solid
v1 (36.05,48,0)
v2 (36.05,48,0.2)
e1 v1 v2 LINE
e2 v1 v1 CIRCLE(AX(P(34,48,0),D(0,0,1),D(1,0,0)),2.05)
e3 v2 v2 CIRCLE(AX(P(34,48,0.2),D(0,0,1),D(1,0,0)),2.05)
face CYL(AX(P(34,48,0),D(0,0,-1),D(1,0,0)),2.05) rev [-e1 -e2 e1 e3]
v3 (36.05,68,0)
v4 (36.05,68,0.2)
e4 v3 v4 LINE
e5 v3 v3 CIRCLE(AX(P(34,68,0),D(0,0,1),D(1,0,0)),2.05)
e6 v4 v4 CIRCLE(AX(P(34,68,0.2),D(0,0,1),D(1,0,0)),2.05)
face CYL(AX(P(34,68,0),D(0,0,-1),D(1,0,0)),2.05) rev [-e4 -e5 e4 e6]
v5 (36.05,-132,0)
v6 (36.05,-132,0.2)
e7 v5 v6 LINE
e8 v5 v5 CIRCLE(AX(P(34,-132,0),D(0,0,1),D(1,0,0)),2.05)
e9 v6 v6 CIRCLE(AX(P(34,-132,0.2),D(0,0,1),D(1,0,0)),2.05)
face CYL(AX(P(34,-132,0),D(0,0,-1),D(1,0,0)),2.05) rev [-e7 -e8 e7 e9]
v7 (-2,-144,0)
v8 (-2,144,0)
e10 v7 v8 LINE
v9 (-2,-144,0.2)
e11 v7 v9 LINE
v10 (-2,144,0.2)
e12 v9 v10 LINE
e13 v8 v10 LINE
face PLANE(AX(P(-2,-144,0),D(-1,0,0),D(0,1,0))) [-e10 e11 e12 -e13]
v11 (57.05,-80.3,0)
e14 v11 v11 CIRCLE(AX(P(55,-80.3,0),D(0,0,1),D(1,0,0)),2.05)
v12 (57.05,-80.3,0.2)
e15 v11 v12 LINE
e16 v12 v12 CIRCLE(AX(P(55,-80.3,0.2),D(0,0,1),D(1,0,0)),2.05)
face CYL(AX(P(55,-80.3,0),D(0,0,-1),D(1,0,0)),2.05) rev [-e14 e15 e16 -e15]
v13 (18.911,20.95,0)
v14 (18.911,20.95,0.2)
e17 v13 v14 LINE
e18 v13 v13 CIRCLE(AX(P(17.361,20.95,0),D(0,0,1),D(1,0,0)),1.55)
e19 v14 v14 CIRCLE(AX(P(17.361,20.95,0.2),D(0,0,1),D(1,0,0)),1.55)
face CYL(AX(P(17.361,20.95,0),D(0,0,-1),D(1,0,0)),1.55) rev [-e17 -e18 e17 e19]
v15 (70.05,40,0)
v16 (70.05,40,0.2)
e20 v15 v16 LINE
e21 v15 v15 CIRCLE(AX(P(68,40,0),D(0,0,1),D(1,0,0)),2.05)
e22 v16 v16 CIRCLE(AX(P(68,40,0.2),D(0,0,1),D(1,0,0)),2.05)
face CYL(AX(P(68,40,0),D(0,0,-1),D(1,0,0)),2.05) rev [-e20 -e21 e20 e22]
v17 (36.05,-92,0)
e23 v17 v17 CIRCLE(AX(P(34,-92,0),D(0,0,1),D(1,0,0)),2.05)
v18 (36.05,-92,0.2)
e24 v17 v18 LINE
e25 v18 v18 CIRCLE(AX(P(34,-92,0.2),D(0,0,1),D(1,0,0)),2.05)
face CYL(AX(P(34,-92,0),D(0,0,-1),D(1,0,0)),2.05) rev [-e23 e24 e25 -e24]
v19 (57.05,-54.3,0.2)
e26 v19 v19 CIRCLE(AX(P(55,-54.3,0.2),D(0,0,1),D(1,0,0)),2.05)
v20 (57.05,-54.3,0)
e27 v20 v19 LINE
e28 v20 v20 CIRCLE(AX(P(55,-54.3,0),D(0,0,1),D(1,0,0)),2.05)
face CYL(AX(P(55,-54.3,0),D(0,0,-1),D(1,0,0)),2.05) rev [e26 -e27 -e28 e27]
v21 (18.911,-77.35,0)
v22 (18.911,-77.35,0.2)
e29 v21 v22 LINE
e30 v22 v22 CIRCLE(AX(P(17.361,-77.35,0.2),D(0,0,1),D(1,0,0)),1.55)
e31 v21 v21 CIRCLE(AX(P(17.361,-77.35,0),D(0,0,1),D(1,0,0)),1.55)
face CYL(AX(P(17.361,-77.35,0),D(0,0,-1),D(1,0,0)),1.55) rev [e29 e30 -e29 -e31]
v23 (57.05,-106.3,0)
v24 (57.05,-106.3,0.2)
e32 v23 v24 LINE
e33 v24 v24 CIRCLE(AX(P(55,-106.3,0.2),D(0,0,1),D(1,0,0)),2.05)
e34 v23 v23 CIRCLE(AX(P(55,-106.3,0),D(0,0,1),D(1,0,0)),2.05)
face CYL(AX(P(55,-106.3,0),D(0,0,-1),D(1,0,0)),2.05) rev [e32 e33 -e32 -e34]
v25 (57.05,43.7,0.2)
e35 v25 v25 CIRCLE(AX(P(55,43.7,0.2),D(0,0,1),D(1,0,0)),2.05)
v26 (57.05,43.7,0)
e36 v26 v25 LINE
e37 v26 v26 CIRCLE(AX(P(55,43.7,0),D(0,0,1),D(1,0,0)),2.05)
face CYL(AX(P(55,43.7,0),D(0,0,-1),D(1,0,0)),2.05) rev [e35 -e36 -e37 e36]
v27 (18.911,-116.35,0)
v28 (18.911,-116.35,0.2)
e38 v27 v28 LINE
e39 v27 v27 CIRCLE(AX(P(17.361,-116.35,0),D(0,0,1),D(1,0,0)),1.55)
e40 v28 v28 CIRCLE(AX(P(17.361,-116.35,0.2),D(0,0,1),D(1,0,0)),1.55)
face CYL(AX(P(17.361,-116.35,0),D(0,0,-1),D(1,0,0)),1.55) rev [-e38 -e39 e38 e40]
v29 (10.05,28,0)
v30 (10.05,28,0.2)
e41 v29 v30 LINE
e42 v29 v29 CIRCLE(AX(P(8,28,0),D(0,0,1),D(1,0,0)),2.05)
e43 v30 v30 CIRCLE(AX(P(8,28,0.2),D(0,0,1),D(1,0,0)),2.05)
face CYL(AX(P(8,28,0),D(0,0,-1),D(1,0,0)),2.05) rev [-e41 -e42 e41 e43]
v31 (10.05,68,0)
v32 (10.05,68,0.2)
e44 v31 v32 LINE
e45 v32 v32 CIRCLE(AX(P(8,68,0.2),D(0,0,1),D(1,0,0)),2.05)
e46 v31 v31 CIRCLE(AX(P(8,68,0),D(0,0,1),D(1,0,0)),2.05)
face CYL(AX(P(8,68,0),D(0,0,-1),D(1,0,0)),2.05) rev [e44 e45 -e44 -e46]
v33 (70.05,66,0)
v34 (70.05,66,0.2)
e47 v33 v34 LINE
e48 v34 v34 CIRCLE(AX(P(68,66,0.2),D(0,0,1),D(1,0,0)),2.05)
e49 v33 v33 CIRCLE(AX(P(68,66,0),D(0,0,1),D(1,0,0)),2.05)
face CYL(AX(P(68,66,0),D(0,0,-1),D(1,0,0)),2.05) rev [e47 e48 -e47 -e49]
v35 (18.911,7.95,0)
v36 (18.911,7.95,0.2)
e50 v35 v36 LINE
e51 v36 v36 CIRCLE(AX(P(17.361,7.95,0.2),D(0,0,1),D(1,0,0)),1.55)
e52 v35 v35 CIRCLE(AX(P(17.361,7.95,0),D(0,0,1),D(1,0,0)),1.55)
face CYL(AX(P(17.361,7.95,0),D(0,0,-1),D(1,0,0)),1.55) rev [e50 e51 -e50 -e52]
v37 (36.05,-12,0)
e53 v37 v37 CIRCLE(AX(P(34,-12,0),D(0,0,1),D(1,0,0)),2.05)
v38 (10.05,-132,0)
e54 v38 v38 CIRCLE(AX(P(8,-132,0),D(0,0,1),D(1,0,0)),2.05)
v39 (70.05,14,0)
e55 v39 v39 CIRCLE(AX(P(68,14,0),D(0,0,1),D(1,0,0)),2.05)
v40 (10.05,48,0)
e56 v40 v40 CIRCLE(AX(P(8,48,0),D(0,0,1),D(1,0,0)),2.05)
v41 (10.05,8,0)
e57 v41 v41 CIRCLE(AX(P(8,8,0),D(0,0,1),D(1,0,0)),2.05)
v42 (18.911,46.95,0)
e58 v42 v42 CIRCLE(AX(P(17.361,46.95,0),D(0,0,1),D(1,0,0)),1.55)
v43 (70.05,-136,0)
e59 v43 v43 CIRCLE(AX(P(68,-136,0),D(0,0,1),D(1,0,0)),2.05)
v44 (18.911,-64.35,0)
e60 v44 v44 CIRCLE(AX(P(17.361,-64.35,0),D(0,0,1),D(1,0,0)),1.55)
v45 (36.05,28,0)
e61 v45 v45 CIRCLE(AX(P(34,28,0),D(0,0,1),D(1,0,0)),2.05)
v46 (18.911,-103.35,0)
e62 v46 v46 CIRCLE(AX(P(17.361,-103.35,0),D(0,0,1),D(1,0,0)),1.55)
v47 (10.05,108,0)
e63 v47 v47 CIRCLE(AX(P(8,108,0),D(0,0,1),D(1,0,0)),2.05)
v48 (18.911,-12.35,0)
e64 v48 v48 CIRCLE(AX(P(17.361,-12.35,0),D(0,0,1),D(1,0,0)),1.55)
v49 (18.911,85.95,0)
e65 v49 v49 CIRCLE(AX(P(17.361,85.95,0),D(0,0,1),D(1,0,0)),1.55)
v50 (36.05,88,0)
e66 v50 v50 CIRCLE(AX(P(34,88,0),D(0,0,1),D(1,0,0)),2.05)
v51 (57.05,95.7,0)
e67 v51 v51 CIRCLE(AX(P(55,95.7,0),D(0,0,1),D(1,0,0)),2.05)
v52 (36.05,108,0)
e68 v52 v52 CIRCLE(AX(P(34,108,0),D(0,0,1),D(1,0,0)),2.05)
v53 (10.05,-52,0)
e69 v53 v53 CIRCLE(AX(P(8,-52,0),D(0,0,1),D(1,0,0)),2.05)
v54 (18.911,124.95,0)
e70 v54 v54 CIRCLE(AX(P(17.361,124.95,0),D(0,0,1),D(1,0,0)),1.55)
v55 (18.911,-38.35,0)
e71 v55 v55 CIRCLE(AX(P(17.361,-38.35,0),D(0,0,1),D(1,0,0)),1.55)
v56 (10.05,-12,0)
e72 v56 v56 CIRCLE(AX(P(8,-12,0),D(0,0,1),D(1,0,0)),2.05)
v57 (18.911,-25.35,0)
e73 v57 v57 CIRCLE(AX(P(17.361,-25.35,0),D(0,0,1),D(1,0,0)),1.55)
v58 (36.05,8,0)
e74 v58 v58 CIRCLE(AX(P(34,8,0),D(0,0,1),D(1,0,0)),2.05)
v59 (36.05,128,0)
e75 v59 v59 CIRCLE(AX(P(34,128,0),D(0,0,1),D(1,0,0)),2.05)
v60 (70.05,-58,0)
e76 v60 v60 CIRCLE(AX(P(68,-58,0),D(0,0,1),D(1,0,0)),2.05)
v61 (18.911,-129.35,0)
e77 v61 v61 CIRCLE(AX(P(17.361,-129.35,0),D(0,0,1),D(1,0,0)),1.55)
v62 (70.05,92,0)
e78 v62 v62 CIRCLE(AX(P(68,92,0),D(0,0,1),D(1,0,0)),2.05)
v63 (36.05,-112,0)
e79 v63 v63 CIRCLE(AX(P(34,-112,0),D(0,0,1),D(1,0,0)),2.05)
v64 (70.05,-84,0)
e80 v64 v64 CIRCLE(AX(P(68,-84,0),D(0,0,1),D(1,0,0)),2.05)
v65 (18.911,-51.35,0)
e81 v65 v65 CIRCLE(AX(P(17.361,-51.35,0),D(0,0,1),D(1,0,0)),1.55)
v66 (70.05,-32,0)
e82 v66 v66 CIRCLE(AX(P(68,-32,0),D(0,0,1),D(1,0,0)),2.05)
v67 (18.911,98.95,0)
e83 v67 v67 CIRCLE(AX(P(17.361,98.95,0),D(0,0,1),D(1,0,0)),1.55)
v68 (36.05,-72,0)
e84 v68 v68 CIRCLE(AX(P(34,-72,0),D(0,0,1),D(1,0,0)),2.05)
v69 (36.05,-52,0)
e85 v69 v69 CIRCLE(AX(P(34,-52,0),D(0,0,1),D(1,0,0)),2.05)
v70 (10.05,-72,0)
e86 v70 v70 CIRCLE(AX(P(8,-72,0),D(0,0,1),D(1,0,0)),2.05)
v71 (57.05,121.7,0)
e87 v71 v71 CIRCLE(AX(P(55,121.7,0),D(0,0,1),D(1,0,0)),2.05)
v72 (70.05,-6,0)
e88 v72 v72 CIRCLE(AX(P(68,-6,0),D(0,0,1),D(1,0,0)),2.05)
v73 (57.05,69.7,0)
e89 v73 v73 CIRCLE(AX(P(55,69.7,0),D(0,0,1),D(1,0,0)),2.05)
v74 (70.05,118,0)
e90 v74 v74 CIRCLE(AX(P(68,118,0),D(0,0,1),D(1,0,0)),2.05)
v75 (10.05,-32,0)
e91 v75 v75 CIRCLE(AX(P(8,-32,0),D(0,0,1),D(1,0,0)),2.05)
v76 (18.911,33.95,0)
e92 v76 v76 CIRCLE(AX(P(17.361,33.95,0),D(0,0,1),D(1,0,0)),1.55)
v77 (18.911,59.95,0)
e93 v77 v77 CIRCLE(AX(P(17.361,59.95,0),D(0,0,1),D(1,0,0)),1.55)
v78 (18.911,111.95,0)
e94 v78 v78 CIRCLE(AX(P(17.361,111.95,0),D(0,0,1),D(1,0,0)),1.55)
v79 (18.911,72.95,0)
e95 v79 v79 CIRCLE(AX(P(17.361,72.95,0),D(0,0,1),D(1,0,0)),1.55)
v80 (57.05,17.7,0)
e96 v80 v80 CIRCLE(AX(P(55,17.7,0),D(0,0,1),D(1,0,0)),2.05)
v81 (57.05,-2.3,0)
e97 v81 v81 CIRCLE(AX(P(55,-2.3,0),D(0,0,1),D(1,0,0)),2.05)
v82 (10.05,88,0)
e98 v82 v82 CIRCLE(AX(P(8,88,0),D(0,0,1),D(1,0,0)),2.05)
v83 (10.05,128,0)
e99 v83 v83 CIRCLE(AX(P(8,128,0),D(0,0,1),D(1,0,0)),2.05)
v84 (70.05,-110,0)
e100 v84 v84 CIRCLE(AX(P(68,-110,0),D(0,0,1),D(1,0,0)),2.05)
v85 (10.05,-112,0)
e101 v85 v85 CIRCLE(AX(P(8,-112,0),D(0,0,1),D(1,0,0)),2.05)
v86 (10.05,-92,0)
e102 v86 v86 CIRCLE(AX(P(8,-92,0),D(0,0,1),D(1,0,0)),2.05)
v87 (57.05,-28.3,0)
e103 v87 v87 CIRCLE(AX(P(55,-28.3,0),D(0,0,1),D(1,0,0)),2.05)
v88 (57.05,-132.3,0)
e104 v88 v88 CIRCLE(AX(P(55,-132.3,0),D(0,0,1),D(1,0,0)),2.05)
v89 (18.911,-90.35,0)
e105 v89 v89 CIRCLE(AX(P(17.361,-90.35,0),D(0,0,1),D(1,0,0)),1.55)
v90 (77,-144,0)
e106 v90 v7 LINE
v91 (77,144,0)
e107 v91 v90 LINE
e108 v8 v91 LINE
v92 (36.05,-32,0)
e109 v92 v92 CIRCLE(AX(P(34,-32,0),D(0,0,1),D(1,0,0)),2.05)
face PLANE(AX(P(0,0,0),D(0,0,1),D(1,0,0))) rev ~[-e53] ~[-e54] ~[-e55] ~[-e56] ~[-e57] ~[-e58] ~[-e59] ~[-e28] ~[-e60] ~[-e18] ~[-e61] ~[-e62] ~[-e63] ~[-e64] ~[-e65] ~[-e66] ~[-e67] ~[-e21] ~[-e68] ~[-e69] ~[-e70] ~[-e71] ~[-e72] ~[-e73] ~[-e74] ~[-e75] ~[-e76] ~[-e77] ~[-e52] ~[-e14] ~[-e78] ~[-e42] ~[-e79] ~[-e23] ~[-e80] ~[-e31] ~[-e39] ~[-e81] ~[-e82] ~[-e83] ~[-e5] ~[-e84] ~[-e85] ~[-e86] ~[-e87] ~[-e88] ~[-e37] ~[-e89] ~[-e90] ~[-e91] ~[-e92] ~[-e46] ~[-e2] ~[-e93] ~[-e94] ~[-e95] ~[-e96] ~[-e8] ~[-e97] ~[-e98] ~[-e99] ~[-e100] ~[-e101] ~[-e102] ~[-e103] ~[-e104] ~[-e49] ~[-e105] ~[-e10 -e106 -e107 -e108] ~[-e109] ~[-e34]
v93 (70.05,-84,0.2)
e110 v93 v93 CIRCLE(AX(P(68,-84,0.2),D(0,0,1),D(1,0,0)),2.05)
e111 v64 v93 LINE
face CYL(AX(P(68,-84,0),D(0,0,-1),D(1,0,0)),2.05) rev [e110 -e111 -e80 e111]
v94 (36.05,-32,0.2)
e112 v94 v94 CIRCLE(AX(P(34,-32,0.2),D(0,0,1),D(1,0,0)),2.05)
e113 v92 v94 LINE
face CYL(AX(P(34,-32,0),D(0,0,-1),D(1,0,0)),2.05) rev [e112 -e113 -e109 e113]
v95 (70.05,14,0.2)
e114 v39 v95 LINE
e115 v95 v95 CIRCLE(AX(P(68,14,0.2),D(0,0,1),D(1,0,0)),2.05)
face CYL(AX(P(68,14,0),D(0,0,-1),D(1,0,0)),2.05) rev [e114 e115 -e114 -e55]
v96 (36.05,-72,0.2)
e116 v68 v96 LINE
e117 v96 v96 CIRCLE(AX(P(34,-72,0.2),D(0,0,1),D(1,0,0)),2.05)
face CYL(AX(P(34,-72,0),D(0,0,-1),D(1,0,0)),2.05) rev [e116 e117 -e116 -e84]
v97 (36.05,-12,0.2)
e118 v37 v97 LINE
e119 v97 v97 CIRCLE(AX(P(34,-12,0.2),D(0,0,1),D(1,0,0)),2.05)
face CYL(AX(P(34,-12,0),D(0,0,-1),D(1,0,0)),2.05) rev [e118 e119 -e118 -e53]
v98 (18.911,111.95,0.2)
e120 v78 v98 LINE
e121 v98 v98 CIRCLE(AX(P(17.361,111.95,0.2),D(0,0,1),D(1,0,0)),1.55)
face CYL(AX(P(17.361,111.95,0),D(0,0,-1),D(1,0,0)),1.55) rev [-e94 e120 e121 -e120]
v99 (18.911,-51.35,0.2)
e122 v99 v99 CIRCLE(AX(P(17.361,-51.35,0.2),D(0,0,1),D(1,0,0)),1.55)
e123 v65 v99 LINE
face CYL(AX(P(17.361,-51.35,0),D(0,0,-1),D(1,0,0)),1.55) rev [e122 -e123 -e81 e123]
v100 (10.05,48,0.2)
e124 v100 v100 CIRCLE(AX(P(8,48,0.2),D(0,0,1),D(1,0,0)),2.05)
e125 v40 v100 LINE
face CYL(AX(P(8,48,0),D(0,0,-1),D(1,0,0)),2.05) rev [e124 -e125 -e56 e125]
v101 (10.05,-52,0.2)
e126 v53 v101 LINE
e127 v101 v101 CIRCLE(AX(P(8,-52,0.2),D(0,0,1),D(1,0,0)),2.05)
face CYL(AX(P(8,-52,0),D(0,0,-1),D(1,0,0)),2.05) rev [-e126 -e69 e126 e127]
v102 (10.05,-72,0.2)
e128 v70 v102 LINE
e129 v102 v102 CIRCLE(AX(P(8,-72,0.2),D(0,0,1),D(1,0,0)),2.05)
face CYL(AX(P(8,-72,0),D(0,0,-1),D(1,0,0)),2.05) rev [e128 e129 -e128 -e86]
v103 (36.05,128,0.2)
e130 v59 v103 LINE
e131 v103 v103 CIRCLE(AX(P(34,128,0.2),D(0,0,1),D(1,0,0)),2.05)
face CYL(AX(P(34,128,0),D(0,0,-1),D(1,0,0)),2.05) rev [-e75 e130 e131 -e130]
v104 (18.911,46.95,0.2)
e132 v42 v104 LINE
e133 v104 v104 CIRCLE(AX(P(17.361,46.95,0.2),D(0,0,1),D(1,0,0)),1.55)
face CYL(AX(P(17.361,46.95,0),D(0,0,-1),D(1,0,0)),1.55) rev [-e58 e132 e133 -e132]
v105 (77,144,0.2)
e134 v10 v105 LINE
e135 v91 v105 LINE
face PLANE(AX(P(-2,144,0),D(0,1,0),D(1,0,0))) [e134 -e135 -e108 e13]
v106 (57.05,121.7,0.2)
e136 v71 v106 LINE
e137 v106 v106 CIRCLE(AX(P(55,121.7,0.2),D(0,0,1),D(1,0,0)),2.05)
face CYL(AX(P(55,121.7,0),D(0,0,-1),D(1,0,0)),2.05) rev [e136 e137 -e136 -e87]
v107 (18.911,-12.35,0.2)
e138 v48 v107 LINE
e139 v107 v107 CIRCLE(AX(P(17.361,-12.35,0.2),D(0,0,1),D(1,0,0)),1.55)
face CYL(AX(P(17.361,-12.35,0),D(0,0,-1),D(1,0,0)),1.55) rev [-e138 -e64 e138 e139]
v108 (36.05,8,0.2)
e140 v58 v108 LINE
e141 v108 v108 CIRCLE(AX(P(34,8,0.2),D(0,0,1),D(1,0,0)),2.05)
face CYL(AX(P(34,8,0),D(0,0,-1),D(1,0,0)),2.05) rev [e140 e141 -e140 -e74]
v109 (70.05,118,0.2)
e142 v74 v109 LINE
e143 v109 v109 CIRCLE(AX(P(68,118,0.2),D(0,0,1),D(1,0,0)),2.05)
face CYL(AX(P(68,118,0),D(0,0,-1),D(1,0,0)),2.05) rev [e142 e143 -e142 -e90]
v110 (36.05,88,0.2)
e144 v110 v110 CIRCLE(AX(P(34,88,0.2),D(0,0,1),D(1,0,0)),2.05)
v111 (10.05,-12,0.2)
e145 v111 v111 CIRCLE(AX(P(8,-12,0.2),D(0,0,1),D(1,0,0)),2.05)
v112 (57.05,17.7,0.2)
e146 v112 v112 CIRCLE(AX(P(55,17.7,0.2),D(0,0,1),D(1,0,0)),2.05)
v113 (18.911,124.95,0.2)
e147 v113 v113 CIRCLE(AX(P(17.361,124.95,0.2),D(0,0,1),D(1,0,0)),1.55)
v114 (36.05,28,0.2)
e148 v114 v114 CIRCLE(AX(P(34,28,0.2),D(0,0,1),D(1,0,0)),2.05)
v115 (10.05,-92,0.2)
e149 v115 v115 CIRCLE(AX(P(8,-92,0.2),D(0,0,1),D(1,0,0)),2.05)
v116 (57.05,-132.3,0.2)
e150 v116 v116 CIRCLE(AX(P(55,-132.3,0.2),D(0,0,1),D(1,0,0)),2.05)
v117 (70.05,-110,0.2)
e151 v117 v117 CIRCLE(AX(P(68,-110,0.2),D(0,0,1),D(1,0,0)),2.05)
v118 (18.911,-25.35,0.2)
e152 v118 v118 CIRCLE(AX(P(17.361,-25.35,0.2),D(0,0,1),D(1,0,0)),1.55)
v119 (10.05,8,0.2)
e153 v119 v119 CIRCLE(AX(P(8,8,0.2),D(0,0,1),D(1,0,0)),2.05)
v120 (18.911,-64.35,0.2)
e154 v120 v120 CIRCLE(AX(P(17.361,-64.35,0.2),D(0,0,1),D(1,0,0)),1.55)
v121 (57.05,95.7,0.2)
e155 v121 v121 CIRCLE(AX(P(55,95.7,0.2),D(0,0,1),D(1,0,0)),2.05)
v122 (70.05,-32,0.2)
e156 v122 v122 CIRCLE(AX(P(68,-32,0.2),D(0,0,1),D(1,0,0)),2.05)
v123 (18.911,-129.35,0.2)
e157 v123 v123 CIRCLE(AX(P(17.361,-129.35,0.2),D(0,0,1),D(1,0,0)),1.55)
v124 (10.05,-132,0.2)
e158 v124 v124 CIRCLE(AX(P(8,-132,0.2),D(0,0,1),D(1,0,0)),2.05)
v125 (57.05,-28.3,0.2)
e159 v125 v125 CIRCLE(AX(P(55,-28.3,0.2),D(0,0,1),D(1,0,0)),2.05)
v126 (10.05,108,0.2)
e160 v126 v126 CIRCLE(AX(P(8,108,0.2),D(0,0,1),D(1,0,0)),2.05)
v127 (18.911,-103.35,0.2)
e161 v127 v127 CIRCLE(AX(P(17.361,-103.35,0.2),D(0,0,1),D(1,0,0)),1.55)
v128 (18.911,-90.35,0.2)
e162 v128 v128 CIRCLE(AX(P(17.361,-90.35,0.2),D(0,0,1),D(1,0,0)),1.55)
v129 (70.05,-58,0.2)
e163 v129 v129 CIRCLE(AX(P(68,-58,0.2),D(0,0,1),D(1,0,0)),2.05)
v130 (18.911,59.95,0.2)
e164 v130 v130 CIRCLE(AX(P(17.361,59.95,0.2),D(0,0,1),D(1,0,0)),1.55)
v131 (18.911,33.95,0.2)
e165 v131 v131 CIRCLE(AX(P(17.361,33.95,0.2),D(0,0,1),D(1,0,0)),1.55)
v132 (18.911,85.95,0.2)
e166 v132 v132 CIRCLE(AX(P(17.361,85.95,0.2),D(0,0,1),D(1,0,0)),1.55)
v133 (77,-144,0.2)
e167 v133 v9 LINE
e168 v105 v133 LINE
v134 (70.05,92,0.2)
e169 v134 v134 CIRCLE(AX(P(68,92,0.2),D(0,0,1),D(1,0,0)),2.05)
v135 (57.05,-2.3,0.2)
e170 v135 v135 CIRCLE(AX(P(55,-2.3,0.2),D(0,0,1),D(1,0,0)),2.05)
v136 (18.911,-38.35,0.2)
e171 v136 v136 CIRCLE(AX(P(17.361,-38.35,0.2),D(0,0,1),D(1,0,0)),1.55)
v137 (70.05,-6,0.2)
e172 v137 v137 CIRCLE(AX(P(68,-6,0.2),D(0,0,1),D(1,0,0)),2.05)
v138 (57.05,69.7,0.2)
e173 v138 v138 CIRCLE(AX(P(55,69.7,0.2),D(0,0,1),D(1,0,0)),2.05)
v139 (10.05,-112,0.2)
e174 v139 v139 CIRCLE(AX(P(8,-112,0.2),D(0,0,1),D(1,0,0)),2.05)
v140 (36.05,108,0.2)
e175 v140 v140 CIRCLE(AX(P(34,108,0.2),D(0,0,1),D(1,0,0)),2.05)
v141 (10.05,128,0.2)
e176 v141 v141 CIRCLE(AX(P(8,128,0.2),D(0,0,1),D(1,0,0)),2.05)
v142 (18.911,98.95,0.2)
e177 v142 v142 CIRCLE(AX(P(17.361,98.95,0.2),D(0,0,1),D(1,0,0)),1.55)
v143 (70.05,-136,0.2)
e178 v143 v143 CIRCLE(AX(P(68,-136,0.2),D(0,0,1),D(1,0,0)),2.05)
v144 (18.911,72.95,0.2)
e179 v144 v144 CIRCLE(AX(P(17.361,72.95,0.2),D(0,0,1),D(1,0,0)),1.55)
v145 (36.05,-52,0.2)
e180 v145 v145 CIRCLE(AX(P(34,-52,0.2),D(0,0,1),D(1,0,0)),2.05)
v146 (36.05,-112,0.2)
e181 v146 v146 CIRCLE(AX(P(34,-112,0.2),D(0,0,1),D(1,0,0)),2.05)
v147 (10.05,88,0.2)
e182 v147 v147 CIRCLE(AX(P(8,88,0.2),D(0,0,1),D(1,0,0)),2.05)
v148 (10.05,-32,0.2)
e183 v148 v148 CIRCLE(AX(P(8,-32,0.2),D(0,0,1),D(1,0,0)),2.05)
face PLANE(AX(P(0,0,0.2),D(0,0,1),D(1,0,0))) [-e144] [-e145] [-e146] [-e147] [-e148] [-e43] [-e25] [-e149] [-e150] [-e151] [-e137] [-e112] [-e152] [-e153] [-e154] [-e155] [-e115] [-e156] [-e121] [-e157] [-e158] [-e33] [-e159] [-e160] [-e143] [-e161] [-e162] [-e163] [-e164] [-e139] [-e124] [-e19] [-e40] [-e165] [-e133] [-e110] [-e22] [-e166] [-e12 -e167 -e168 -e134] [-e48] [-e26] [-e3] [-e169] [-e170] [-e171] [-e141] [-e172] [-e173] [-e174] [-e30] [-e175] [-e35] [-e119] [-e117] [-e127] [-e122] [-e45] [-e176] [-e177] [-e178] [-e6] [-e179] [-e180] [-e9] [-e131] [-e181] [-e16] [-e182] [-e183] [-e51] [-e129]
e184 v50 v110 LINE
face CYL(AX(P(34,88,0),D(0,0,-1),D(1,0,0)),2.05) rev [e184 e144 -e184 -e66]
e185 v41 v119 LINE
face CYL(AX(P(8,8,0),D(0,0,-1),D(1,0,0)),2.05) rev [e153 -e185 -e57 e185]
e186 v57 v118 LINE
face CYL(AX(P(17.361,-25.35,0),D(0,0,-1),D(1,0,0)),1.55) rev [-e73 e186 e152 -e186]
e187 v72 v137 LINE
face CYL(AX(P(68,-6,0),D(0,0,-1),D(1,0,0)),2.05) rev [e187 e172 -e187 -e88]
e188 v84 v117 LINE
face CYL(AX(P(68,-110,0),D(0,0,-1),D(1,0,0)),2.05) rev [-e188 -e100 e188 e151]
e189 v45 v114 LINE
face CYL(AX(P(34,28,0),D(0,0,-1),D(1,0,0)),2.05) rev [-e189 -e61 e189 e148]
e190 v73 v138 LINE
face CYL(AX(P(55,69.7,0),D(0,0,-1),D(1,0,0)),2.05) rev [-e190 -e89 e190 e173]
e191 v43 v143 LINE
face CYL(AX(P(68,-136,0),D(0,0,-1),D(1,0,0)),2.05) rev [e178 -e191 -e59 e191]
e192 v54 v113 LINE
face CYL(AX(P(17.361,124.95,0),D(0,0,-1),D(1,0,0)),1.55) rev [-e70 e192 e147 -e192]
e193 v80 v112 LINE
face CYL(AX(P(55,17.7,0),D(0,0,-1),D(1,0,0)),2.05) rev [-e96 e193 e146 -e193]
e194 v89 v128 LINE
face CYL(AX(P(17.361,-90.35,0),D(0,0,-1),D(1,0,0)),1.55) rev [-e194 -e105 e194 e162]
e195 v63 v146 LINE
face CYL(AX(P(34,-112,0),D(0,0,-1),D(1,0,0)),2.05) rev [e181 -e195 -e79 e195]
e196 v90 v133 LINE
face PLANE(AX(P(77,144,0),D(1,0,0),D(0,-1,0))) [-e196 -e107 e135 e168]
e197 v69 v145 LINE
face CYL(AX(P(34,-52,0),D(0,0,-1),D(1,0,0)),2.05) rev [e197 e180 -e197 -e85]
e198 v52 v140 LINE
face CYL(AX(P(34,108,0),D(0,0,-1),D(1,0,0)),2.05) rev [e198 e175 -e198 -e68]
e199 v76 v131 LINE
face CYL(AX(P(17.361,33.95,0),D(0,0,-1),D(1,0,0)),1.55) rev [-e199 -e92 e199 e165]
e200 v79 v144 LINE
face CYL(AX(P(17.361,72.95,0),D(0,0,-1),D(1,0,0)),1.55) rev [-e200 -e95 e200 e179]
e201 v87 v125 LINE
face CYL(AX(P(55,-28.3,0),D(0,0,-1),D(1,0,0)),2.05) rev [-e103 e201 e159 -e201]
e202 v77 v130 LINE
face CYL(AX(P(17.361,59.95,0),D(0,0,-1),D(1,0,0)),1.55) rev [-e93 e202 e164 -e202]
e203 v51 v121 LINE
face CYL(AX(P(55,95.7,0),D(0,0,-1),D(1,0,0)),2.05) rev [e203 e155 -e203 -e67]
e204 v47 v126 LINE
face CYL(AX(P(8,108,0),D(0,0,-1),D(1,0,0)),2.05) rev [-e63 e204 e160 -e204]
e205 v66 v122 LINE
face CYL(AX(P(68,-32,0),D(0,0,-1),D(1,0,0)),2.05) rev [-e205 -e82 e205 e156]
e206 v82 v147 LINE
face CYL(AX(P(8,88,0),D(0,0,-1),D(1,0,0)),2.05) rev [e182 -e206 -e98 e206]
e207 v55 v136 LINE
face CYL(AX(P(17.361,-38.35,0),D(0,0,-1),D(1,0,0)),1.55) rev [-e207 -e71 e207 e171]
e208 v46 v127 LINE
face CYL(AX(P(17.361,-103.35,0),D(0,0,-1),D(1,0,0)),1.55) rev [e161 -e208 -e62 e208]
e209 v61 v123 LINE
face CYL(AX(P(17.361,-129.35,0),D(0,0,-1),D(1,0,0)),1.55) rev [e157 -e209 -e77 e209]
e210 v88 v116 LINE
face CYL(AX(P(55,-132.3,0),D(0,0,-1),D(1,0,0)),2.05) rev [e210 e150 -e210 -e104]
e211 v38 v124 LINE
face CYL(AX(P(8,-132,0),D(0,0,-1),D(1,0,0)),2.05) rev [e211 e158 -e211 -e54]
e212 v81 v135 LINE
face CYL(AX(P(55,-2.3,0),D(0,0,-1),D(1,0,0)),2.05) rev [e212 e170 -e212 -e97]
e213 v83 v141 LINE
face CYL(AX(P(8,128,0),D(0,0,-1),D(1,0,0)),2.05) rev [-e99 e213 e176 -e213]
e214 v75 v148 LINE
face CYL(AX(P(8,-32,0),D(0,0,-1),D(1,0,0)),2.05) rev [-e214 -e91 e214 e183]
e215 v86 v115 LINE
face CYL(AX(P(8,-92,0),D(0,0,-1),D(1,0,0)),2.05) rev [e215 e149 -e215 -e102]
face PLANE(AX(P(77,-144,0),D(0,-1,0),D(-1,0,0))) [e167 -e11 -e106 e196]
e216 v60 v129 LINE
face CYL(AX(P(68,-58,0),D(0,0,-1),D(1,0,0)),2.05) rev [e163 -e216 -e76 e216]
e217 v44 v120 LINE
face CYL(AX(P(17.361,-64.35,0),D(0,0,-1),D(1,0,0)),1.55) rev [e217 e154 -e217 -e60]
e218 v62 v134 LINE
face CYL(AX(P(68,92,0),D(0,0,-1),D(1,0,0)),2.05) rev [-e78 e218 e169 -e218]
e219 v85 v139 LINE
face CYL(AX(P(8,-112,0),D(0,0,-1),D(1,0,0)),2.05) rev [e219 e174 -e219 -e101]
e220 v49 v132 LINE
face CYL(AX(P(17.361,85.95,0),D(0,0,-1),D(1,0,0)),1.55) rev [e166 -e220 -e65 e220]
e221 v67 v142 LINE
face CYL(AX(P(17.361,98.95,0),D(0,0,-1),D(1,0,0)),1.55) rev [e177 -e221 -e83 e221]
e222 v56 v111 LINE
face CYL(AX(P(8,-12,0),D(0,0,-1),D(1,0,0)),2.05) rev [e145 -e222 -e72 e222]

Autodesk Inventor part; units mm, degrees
ref_plane "YZ Plane" through (0, 0, 0) normal (1, 0, 0) x (0, 1, 0)
ref_plane "XZ Plane" through (0, 0, 0) normal (0, 1, 0) x (-1, 0, 0)
ref_plane "XY Plane" through (0, 0, 0) normal (0, 0, 1) x (1, 0, 0)
sketch "Sketch1" plane through (0, 0, 0) normal (0, 0, 1) x (1, 0, 0)
  line L0 (0, 201.6) -> (0, -201.6) construction
  circle A0 centre (17.361, 111.95) radius 2 construction
  circle A1 centre (17.361, 85.95) radius 2 construction
  circle A2 centre (17.361, 59.95) radius 2 construction
  circle A3 centre (17.361, 33.95) radius 2 construction
  circle A4 centre (17.361, 7.95) radius 2 construction
  circle A5 centre (17.361, -25.35) radius 2 construction
  circle A6 centre (17.361, -51.35) radius 2 construction
  circle A7 centre (17.361, -77.35) radius 2 construction
  circle A8 centre (17.361, -103.35) radius 2 construction
  circle A9 centre (17.361, -129.35) radius 2 construction
  circle A10 centre (17.361, -116.35) radius 2 construction
  circle A11 centre (17.361, -90.35) radius 2 construction
  circle A12 centre (17.361, -64.35) radius 2 construction
  circle A13 centre (17.361, -38.35) radius 2 construction
  circle A14 centre (17.361, -12.35) radius 2 construction
  circle A15 centre (17.361, 20.95) radius 2 construction
  circle A16 centre (17.361, 46.95) radius 2 construction
  circle A17 centre (17.361, 72.95) radius 2 construction
  circle A18 centre (17.361, 98.95) radius 2 construction
  circle A19 centre (17.361, 124.95) radius 2 construction
  circle A20 centre (8, -12) radius 2.65 construction
  circle A21 centre (8, -52) radius 2.65 construction
  circle A22 centre (8, -92) radius 2.65 construction
  circle A23 centre (8, -132) radius 2.65 construction
  circle A24 centre (34, -112) radius 2.65 construction
  circle A25 centre (34, -72) radius 2.65 construction
  circle A26 centre (34, -32) radius 2.65 construction
  circle A27 centre (34, 8) radius 2.65 construction
  circle A28 centre (34, 48) radius 2.65 construction
  circle A29 centre (8, 28) radius 2.65 construction
  circle A30 centre (8, 68) radius 2.65 construction
  circle A31 centre (8, 88) radius 2.65 construction
  circle A32 centre (8, 108) radius 2.65 construction
  circle A33 centre (8, 128) radius 2.65 construction
  circle A34 centre (68, 118) radius 2.65 construction
  circle A35 centre (55, 95.7) radius 2.65 construction
  circle A36 centre (55, 69.7) radius 2.65 construction
  circle A37 centre (55, 43.7) radius 2.65 construction
  circle A38 centre (55, 17.7) radius 2.65 construction
  circle A39 centre (55, -2.3) radius 2.65 construction
  circle A40 centre (55, -28.3) radius 2.65 construction
  circle A41 centre (55, -54.3) radius 2.65 construction
  circle A42 centre (55, -80.3) radius 2.65 construction
  circle A43 centre (55, -106.3) radius 2.65 construction
  circle A44 centre (55, -132.3) radius 2.65 construction
  circle A45 centre (68, -136) radius 2.65 construction
  circle A46 centre (68, -110) radius 2.65 construction
  circle A47 centre (68, -84) radius 2.65 construction
  circle A48 centre (68, -58) radius 2.65 construction
  circle A49 centre (68, -32) radius 2.65 construction
  circle A50 centre (68, -6) radius 2.65 construction
  circle A51 centre (68, 14) radius 2.65 construction
  circle A52 centre (68, 40) radius 2.65 construction
  circle A53 centre (68, 66) radius 2.65 construction
  circle A54 centre (68, 92) radius 2.65 construction
  circle A55 centre (55, 121.7) radius 2.65 construction
  circle A56 centre (34, 128) radius 2.65 construction
  circle A57 centre (34, 108) radius 2.65 construction
  circle A58 centre (34, 88) radius 2.65 construction
  circle A59 centre (8, 48) radius 2.65 construction
  circle A60 centre (34, 68) radius 2.65 construction
  circle A61 centre (34, 28) radius 2.65 construction
  circle A62 centre (34, -12) radius 2.65 construction
  circle A63 centre (34, -52) radius 2.65 construction
  circle A64 centre (34, -92) radius 2.65 construction
  circle A65 centre (34, -132) radius 2.65 construction
  circle A66 centre (8, -112) radius 2.65 construction
  circle A67 centre (8, -72) radius 2.65 construction
  circle A68 centre (8, -32) radius 2.65 construction
  circle A69 centre (8, 8) radius 2.65 construction
  line L1 (75, 142) -> (75, -142) projected
  line L2 (0, 142) -> (75, 142) projected
  line L3 (0, -142) -> (0, 142) projected
  line L4 (75, -142) -> (0, -142) construction
  line L5 (-2, -144) -> (-2, 144)
  line L6 (-2, 144) -> (77, 144)
  line L7 (77, 144) -> (77, -144)
  line L8 (77, -144) -> (-2, -144)
  circle A70 centre (8, -132) radius 2.05
  circle A71 centre (8, -112) radius 2.05
  circle A72 centre (8, -92) radius 2.05
  circle A73 centre (8, -72) radius 2.05
  circle A74 centre (8, -52) radius 2.05
  circle A75 centre (8, -32) radius 2.05
  circle A76 centre (8, -12) radius 2.05
  circle A77 centre (8, 8) radius 2.05
  circle A78 centre (8, 28) radius 2.05
  circle A79 centre (8, 48) radius 2.05
  circle A80 centre (8, 68) radius 2.05
  circle A81 centre (8, 88) radius 2.05
  circle A82 centre (8, 108) radius 2.05
  circle A83 centre (8, 128) radius 2.05
  circle A84 centre (17.361, 124.95) radius 1.55
  circle A85 centre (17.361, 111.95) radius 1.55
  circle A86 centre (17.361, 98.95) radius 1.55
  circle A87 centre (17.361, 85.95) radius 1.55
  circle A88 centre (17.361, 72.95) radius 1.55
  circle A89 centre (17.361, 59.95) radius 1.55
  circle A90 centre (17.361, 46.95) radius 1.55
  circle A91 centre (17.361, 33.95) radius 1.55
  circle A92 centre (17.361, 20.95) radius 1.55
  circle A93 centre (17.361, 7.95) radius 1.55
  circle A94 centre (17.361, -12.35) radius 1.55
  circle A95 centre (17.361, -25.35) radius 1.55
  circle A96 centre (17.361, -38.35) radius 1.55
  circle A97 centre (17.361, -51.35) radius 1.55
  circle A98 centre (17.361, -64.35) radius 1.55
  circle A99 centre (17.361, -77.35) radius 1.55
  circle A100 centre (17.361, -90.35) radius 1.55
  circle A101 centre (17.361, -103.35) radius 1.55
  circle A102 centre (17.361, -116.35) radius 1.55
  circle A103 centre (17.361, -129.35) radius 1.55
  circle A104 centre (34, -132) radius 2.05
  circle A105 centre (34, -112) radius 2.05
  circle A106 centre (34, -92) radius 2.05
  circle A107 centre (34, -72) radius 2.05
  circle A108 centre (34, -52) radius 2.05
  circle A109 centre (34, -32) radius 2.05
  circle A110 centre (34, -12) radius 2.05
  circle A111 centre (34, 8) radius 2.05
  circle A112 centre (34, 28) radius 2.05
  circle A113 centre (34, 48) radius 2.05
  circle A114 centre (34, 68) radius 2.05
  circle A115 centre (34, 88) radius 2.05
  circle A116 centre (34, 108) radius 2.05
  circle A117 centre (34, 128) radius 2.05
  circle A118 centre (55, 121.7) radius 2.05
  circle A119 centre (68, 118) radius 2.05
  circle A120 centre (55, 95.7) radius 2.05
  circle A121 centre (68, 92) radius 2.05
  circle A122 centre (55, 69.7) radius 2.05
  circle A123 centre (68, 66) radius 2.05
  circle A124 centre (55, 43.7) radius 2.05
  circle A125 centre (55, 17.7) radius 2.05
  circle A126 centre (68, 40) radius 2.05
  circle A127 centre (68, 14) radius 2.05
  circle A128 centre (55, -2.3) radius 2.05
  circle A129 centre (68, -6) radius 2.05
  circle A130 centre (55, -28.3) radius 2.05
  circle A131 centre (68, -32) radius 2.05
  circle A132 centre (55, -54.3) radius 2.05
  circle A133 centre (68, -58) radius 2.05
  circle A134 centre (55, -80.3) radius 2.05
  circle A135 centre (55, -106.3) radius 2.05
  circle A136 centre (68, -84) radius 2.05
  circle A137 centre (68, -110) radius 2.05
  circle A138 centre (55, -132.3) radius 2.05
  circle A139 centre (68, -136) radius 2.05
  dimension "d10" = 2
  dimension "d11" = 4.1
  dimension "d12" = 3.1
extrude "Extrusion4" add sketch "Sketch1" along normal blind 0.2
properties part number "17-0028-0027"
